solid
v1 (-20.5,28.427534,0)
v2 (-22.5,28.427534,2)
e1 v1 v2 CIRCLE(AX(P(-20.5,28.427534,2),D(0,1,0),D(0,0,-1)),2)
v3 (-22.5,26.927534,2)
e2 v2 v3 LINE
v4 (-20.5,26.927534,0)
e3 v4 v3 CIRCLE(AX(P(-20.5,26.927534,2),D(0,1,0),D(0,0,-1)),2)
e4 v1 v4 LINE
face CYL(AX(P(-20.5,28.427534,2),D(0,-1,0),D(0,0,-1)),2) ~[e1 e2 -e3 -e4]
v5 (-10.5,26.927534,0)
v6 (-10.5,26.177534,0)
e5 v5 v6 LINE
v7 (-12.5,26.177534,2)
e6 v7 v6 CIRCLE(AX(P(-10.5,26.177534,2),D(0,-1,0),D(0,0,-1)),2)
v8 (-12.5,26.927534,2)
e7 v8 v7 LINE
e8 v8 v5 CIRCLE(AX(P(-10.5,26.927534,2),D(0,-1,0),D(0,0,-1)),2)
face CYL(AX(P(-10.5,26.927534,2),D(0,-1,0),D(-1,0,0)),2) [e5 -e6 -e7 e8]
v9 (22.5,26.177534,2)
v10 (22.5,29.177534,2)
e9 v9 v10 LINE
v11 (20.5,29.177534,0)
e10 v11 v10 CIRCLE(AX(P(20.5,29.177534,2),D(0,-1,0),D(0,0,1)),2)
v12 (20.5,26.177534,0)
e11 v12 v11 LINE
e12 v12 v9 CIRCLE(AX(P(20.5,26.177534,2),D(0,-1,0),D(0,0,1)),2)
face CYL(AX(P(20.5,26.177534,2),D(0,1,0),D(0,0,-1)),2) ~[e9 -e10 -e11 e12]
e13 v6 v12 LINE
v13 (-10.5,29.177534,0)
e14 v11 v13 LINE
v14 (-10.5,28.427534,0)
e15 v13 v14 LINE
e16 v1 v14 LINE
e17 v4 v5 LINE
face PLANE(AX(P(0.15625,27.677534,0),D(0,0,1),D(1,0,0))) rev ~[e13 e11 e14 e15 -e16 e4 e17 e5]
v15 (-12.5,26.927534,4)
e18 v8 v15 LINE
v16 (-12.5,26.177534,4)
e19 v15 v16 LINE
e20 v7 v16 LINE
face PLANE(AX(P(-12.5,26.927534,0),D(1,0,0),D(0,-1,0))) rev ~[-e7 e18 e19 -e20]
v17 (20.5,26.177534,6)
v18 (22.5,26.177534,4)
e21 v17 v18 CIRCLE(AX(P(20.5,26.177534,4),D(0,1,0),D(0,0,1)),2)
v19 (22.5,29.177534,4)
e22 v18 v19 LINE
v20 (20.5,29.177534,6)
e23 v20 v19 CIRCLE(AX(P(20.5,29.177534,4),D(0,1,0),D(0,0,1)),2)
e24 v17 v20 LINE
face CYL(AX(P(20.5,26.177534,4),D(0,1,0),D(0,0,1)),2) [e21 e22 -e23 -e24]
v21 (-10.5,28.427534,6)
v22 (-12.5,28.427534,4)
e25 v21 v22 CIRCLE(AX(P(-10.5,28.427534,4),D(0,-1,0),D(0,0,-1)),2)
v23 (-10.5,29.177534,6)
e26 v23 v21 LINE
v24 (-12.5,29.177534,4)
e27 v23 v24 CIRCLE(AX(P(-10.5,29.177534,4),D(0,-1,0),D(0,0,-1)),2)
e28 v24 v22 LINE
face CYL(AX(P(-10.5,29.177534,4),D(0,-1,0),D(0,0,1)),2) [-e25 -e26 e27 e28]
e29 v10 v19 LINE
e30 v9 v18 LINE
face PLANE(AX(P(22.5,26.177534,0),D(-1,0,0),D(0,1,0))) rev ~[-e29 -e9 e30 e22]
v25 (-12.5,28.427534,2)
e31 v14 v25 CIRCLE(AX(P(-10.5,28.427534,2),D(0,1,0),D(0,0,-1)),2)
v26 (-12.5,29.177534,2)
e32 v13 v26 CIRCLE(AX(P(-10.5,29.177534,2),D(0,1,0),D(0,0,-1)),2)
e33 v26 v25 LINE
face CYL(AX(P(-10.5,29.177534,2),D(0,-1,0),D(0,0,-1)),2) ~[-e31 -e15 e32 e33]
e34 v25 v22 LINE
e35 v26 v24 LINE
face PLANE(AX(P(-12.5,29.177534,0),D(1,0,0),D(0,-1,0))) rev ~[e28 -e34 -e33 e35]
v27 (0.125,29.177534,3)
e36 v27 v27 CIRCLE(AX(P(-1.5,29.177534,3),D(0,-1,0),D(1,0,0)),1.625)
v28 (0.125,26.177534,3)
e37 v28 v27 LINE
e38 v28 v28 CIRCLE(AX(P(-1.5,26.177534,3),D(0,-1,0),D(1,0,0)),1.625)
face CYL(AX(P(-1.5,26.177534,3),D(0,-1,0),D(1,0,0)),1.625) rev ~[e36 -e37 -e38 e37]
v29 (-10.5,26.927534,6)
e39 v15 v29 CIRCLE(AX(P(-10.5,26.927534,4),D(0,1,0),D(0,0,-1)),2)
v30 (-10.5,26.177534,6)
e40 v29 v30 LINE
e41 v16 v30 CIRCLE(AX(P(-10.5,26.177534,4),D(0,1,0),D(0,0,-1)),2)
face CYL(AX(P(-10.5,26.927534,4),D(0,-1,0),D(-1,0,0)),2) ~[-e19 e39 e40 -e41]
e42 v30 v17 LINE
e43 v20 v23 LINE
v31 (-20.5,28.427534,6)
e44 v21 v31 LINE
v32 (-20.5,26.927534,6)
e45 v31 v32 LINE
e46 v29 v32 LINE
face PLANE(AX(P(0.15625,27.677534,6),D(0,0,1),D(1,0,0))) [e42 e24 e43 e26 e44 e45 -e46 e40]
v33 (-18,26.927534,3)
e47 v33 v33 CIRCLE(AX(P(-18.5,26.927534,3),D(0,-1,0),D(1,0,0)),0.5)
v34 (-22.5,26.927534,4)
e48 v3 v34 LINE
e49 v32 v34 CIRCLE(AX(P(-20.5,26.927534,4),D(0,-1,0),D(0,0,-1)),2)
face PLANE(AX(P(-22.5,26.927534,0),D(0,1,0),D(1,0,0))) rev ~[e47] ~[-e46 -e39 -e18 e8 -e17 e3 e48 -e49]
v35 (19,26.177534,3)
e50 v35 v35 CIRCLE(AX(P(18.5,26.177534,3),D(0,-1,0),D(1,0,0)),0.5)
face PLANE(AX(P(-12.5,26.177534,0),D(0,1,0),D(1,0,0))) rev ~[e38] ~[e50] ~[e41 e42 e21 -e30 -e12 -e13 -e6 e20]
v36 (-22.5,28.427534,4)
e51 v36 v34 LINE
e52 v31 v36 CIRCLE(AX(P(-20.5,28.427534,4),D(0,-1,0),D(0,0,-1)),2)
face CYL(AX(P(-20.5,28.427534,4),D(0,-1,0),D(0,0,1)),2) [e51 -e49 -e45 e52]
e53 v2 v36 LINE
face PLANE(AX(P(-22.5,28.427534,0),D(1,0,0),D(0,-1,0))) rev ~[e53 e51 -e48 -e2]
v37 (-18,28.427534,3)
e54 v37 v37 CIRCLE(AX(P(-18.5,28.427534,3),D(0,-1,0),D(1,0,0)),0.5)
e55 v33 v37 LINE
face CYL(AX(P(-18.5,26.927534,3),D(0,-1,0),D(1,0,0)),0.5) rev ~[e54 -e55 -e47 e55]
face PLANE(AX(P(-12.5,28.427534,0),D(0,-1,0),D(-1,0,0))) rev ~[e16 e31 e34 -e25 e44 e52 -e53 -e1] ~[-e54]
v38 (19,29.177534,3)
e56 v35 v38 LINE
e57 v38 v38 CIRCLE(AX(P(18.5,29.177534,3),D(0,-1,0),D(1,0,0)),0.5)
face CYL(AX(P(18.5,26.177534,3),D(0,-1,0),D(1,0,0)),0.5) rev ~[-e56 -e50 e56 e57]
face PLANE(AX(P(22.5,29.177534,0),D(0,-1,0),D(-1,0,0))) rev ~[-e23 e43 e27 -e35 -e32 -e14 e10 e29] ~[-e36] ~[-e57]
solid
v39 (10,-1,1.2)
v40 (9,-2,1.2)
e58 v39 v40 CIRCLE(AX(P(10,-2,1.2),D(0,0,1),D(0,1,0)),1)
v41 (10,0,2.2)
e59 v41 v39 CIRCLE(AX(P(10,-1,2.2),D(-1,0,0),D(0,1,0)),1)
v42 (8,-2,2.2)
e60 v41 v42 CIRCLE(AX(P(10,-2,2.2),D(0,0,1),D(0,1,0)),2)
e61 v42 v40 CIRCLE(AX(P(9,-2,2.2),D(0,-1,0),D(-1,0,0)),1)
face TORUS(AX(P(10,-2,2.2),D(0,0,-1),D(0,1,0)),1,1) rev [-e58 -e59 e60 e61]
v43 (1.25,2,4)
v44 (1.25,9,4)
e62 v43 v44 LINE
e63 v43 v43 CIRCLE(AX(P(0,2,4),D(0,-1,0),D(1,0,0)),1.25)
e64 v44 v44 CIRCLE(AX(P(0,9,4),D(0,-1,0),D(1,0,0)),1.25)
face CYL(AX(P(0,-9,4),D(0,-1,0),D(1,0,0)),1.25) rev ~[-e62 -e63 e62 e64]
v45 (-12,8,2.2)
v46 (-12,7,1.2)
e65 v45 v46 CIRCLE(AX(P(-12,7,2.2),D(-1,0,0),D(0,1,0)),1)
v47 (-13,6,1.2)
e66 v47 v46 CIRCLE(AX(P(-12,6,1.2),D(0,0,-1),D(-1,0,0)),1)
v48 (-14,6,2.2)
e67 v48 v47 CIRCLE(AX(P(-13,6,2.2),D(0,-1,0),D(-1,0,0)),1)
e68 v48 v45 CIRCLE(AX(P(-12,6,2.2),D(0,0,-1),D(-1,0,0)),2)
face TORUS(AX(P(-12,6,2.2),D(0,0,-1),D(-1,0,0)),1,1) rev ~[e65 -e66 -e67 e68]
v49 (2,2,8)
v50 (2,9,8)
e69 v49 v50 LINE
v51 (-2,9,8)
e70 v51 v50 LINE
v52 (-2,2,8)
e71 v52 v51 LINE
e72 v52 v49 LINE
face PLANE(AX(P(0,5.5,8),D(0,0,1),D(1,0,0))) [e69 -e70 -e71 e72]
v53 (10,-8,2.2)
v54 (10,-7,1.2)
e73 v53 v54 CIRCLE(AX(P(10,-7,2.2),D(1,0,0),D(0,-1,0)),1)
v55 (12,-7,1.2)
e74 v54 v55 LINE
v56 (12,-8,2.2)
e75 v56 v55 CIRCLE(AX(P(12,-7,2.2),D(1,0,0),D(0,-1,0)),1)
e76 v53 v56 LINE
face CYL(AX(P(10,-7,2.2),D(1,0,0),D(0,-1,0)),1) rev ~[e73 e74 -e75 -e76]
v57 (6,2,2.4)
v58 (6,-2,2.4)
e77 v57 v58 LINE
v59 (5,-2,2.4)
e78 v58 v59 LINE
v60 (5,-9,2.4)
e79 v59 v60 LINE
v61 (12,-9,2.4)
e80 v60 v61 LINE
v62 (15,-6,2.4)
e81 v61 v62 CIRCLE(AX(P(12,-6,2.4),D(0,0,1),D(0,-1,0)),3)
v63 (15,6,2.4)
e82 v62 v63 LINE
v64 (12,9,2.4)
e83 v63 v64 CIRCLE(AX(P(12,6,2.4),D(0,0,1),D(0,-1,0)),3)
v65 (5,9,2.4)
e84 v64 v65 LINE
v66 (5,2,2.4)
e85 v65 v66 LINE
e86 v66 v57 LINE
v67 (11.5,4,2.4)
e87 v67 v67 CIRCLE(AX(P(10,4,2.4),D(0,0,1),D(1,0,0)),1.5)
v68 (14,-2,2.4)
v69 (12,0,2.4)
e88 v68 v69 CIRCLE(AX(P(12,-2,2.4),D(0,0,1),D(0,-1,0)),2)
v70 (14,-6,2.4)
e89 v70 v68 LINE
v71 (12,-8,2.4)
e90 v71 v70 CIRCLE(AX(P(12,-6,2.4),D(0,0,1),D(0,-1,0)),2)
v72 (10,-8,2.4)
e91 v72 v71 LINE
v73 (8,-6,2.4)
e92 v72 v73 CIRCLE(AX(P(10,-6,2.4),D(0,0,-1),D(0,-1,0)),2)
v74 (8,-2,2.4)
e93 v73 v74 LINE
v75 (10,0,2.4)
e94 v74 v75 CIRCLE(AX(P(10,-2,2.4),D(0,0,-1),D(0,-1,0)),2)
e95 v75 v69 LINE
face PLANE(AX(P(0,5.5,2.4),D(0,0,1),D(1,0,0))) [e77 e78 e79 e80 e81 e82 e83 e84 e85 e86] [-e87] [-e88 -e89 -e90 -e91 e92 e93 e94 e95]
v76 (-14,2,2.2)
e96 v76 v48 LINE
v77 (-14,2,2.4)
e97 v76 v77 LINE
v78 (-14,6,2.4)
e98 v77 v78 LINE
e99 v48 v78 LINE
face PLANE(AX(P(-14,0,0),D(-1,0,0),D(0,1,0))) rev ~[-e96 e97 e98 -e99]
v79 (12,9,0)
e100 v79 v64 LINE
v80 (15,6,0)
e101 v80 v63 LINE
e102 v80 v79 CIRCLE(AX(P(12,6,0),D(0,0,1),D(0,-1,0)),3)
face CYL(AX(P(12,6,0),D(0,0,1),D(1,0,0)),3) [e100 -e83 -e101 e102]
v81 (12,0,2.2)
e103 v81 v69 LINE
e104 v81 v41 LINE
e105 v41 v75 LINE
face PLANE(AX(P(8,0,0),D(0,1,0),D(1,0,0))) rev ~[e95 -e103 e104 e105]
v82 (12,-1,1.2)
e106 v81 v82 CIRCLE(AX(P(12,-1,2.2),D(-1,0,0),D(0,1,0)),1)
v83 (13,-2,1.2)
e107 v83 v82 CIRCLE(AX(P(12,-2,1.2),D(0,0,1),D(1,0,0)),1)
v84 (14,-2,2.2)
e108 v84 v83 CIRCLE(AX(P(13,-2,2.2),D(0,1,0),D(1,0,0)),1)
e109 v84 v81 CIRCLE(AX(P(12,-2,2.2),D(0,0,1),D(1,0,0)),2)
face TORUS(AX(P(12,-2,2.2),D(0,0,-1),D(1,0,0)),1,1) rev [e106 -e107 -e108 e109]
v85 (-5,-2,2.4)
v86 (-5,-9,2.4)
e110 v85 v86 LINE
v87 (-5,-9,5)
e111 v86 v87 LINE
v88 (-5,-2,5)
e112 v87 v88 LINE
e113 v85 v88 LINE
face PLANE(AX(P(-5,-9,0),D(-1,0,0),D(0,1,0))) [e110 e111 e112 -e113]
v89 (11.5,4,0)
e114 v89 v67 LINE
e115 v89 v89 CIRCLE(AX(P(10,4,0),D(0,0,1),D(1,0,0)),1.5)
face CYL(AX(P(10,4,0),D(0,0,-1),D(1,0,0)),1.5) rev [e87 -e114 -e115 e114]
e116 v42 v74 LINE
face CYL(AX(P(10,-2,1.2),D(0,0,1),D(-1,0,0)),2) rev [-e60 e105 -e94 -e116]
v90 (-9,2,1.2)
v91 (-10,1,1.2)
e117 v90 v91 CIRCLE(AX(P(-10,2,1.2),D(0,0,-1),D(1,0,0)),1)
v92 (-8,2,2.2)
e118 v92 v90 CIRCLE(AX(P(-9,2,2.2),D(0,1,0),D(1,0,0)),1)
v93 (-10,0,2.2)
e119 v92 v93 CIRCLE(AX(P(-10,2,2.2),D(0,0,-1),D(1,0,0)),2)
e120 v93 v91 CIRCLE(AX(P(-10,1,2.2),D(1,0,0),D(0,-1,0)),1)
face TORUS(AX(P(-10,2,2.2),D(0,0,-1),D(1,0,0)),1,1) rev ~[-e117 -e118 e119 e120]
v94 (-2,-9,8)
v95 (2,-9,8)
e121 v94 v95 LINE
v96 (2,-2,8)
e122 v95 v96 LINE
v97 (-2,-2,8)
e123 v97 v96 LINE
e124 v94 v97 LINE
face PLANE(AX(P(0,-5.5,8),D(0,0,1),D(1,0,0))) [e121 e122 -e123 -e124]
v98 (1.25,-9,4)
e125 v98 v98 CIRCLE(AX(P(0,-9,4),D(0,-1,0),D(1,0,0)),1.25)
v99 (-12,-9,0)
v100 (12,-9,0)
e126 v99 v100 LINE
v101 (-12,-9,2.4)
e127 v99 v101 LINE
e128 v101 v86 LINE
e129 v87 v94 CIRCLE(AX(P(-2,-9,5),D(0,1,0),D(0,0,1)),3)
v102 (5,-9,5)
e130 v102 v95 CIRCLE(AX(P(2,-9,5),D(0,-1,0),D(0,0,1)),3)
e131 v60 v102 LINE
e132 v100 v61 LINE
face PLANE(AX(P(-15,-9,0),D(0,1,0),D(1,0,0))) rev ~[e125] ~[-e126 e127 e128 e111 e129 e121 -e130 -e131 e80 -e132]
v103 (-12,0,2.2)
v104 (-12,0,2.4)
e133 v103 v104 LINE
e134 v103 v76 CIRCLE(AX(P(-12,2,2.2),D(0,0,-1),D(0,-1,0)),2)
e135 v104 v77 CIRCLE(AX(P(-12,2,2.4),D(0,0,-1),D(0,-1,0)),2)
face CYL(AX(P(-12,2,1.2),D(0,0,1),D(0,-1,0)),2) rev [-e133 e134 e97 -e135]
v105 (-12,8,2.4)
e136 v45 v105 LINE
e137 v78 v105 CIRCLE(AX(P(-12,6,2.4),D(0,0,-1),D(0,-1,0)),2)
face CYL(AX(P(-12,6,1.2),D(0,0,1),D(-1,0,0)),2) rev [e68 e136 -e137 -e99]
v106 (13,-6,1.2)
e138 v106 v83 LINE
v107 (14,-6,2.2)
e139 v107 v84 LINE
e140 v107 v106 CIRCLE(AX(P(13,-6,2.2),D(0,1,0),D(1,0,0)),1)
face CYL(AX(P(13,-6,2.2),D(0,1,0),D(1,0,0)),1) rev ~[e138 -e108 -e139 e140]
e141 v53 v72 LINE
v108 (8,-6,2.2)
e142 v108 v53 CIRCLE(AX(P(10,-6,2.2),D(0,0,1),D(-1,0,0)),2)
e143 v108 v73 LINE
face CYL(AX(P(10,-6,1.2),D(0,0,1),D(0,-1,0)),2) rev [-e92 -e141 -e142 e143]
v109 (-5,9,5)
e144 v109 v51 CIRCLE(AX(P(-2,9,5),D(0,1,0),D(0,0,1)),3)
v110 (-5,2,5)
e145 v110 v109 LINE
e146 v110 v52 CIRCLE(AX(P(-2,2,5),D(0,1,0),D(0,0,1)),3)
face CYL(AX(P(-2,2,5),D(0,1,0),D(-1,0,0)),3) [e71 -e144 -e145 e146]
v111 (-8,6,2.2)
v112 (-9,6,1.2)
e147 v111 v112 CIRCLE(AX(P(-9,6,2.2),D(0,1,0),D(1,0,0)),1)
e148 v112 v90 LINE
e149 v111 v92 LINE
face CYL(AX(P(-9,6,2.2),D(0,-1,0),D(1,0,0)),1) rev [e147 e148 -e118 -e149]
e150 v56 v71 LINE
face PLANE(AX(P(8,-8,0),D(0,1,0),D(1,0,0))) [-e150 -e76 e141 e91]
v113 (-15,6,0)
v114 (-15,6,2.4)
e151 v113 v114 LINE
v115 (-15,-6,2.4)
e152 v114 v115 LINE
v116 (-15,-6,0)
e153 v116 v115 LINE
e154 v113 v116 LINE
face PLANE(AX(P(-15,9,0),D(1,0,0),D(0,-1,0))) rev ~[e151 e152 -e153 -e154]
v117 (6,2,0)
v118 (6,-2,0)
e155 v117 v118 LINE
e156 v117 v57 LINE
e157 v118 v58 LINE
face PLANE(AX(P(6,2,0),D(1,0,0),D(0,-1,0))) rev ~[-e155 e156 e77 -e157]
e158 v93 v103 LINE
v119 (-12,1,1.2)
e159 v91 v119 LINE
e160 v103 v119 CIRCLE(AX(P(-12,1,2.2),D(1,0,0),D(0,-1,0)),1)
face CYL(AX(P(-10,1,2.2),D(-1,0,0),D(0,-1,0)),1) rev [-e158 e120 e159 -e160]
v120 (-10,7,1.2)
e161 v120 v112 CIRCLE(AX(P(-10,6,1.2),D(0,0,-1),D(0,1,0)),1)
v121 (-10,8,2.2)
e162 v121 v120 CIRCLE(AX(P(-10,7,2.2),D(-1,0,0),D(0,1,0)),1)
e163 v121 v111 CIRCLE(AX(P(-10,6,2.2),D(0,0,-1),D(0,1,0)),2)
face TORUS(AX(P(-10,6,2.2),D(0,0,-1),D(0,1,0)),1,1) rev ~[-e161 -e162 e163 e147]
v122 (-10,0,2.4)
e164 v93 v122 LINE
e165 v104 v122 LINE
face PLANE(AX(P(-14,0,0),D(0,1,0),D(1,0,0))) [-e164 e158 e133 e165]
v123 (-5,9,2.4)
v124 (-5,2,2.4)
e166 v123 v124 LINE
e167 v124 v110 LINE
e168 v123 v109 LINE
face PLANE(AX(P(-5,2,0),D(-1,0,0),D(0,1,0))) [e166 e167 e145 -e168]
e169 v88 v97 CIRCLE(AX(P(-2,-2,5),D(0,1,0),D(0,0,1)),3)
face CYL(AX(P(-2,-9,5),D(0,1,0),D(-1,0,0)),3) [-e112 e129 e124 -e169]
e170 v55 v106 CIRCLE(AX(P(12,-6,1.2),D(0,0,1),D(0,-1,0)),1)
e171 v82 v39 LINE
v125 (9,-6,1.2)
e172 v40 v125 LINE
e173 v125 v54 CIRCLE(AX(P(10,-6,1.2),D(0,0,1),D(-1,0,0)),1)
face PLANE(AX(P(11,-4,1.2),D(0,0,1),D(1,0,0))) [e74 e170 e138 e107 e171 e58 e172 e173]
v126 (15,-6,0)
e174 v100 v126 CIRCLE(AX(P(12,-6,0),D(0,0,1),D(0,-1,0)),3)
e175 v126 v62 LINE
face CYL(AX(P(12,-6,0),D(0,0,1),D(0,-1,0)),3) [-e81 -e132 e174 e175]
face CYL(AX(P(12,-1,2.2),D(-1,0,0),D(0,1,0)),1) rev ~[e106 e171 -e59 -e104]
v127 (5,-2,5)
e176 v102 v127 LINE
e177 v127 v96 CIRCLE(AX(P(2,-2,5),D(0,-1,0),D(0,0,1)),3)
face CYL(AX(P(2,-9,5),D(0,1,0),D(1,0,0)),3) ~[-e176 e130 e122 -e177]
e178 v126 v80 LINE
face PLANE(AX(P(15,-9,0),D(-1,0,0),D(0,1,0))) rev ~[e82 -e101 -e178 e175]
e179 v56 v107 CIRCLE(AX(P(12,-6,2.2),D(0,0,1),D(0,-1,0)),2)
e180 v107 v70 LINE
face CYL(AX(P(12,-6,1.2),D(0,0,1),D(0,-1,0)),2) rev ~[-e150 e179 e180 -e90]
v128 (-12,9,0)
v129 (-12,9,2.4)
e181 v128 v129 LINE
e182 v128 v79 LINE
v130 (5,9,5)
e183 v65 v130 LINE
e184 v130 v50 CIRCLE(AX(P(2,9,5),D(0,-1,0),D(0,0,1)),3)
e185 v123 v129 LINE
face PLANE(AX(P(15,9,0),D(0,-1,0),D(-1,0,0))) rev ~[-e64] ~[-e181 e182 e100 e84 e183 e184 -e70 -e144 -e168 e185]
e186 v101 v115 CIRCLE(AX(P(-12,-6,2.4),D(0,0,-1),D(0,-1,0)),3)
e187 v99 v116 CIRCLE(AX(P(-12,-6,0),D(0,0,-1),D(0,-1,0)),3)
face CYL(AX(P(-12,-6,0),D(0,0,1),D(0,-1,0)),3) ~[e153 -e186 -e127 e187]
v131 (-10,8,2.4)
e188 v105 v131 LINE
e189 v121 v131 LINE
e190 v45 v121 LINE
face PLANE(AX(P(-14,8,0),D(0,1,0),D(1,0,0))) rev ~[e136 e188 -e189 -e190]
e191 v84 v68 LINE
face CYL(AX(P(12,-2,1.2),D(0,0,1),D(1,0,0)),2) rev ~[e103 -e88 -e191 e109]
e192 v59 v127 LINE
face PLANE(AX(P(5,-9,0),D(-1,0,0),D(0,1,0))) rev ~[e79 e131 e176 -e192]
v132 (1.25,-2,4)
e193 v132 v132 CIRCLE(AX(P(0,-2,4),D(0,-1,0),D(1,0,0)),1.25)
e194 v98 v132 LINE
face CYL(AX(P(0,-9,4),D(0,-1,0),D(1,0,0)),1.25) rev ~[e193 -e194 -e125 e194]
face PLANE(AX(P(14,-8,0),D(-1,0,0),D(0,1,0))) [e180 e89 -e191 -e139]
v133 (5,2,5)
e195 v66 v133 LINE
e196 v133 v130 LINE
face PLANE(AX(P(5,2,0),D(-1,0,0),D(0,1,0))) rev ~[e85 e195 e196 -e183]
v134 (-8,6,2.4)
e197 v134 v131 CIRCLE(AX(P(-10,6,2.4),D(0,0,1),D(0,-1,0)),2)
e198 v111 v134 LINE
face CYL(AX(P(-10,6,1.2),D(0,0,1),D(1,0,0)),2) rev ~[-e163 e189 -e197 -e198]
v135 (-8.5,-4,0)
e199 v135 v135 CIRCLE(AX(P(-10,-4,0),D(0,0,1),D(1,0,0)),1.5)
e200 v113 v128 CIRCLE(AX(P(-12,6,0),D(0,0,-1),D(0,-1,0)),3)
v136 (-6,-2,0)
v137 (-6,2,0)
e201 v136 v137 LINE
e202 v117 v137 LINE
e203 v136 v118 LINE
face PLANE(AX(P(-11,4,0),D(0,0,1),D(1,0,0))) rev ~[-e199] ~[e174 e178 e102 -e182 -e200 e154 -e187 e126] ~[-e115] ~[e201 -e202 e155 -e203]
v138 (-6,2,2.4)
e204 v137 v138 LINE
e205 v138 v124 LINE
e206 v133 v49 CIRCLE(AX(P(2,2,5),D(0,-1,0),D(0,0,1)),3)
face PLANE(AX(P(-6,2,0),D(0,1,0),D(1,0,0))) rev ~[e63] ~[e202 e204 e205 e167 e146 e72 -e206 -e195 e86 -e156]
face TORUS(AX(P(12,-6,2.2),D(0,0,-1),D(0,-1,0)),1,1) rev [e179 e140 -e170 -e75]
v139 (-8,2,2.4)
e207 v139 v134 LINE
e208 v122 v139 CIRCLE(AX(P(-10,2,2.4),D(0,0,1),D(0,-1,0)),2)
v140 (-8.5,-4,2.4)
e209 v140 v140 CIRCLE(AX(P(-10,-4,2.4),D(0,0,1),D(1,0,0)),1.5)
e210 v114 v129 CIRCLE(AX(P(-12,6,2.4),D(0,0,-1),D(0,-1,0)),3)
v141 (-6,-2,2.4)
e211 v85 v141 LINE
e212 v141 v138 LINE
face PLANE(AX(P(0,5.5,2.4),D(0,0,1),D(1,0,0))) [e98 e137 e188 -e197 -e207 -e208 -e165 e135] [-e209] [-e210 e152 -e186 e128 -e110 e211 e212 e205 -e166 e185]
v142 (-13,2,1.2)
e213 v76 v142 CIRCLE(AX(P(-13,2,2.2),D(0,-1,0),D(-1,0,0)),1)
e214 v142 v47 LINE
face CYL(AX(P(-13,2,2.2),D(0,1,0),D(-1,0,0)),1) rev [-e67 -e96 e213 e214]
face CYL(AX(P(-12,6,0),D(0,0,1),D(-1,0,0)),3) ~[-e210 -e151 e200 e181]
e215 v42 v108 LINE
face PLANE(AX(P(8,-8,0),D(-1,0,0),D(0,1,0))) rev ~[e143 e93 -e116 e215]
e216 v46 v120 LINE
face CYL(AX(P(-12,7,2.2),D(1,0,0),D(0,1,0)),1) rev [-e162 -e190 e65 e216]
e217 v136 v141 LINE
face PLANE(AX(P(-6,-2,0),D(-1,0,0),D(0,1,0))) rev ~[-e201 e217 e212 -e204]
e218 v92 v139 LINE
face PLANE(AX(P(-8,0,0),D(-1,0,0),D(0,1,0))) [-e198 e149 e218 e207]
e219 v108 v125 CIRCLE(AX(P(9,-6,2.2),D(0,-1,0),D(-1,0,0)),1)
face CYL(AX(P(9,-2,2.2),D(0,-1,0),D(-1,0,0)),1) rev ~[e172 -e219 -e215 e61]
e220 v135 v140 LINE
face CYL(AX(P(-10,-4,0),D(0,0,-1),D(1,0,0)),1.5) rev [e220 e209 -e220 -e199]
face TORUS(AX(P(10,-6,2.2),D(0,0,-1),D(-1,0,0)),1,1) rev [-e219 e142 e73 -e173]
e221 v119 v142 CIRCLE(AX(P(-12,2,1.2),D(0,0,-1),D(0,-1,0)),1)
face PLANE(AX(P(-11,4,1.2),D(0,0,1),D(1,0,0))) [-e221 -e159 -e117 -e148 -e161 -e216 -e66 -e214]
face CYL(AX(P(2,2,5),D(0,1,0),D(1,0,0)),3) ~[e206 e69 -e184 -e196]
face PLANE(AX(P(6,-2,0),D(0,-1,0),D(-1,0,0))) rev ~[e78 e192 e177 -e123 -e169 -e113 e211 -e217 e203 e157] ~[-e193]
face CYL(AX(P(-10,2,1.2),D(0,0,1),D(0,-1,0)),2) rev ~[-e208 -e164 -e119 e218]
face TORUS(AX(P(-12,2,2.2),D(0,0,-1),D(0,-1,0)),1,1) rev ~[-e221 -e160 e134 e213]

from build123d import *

# Parameters (mm, degrees)
F0_W      = 10
F0_H      = 7
F0_R      = 1.5
F0_W_2    = 6
F0_H_2    = 8
F1_DEPTH  = 2.4
F2_DEPTH  = 8
F3_R      = 1.25
F4_DEPTH  = 25
F5_R      = 3
F6_DEPTH  = 1.2
F7_R      = 2
F8_R      = 1
F10_DEPTH = 6
F11_R     = 0.5
F12_DEPTH = 25
F13_R     = 1.625
F13_R_2   = 0.5
F14_DEPTH = 25
F15_R     = 2


with BuildPart() as f1:
    # F0 (on Top) → F1 (new body)
    with BuildSketch(Plane.XY):
        with Locations((0, 5.5)):
            Rectangle(F0_W, F0_H)
        Polygon((-5, 2), (-5, 9), (-15, 9), (-15, -9), (-5, -9), (-5, -2), (-6, -2), (-6, 2), align=None)
        with Locations((-10, -4)):
            Circle(F0_R, mode=Mode.SUBTRACT)
        with Locations((-11, 4)):
            Rectangle(F0_W_2, F0_H_2, mode=Mode.SUBTRACT)
        with Locations((0, -5.5)):
            Rectangle(F0_W, F0_H)
        Polygon((15, -9), (15, 9), (5, 9), (5, 2), (6, 2), (6, -2), (5, -2), (5, -9), align=None)
        with Locations((11, -4)):
            Rectangle(F0_W_2, F0_H_2, mode=Mode.SUBTRACT)
        with Locations((10, 4)):
            Circle(F0_R, mode=Mode.SUBTRACT)
    extrude(amount=F1_DEPTH)

    # F0 (on Top) → F2 (join)
    with BuildSketch(Plane.XY):
        with Locations((0, -5.5)):
            Rectangle(F0_W, F0_H)
        with Locations((0, 5.5)):
            Rectangle(F0_W, F0_H)
    extrude(amount=F2_DEPTH)

    # F3 (on face) → F4 (cut)
    with BuildSketch(Plane.XZ.offset(9)):
        with Locations((0, 4)):
            Circle(F3_R)
    extrude(amount=-F4_DEPTH, mode=Mode.SUBTRACT)

    # F5
    f5_edges = [f1.edges().sort_by_distance(p)[0] for p in [
        (-5, 5.5, 8),
        (5, 5.5, 8),
        (-5, -5.5, 8),
        (5, -5.5, 8),
        (-15, -9, 1.2),
        (15, -9, 1.2),
        (-15, 9, 1.2),
        (15, 9, 1.2),
    ]]
    fillet(f5_edges, radius=F5_R)

    # F0 (on Top) → F6 (join)
    with BuildSketch(Plane.XY):
        with Locations((-11, 4)):
            Rectangle(F0_W_2, F0_H_2)
        with Locations((11, -4)):
            Rectangle(F0_W_2, F0_H_2)
    extrude(amount=F6_DEPTH)

    # F7
    f7_edges = [f1.edges().sort_by_distance(p)[0] for p in [
        (14, -8, 1.8),
        (8, -8, 1.8),
        (14, 0, 1.8),
        (8, 0, 1.8),
        (-8, 8, 1.8),
        (-14, 8, 1.8),
        (-8, 0, 1.8),
        (-14, 0, 1.8),
    ]]
    fillet(f7_edges, radius=F7_R)

    # F8
    f8_edges = [f1.edges().sort_by_distance(p)[0] for p in [
        (-11, 8, 1.2),
        (-8.585786, 7.414214, 1.2),
        (-13.414214, 7.414214, 1.2),
        (-8, 4, 1.2),
        (-14, 4, 1.2),
        (-8.585786, 0.585786, 1.2),
        (-13.414214, 0.585786, 1.2),
        (-11, 0, 1.2),
        (11, -8, 1.2),
        (8.585786, -7.414214, 1.2),
        (13.414214, -7.414214, 1.2),
        (8, -4, 1.2),
        (14, -4, 1.2),
        (8.585786, -0.585786, 1.2),
        (13.414214, -0.585786, 1.2),
        (11, 0, 1.2),
    ]]
    fillet(f8_edges, radius=F8_R)


with BuildPart() as f10:
    # F9 (on Top) → F10 (new body)
    with BuildSketch(Plane.XY):
        Polygon((-12.5, 26.9275341481), (-12.5, 26.1775341481), (22.5, 26.1775341481), (22.5, 29.1775341481), (-12.5, 29.1775341481), (-12.5, 28.4275341481), (-22.5, 28.4275341481), (-22.5, 26.9275341481), align=None)
    extrude(amount=F10_DEPTH)

    # F11 (on face) → F12 (cut)
    with BuildSketch(Plane.XZ.offset(-26.9275341481)):
        with Locations((-18.5, 3)):
            Circle(F11_R)
    extrude(amount=-F12_DEPTH, mode=Mode.SUBTRACT)

    # F13 (on face) → F14 (cut)
    with BuildSketch(Plane.XZ.offset(-26.1775341481)):
        with Locations((-1.5, 3)):
            Circle(F13_R)
        with Locations((18.5, 3)):
            Circle(F13_R_2)
    extrude(amount=-F14_DEPTH, mode=Mode.SUBTRACT)

    # F15
    f15_edges = [f10.edges().sort_by_distance(p)[0] for p in [
        (-22.5, 27.677534, 6),
        (-22.5, 27.677534, 0),
        (22.5, 27.677534, 6),
        (22.5, 27.677534, 0),
        (-12.5, 26.552534, 0),
        (-12.5, 28.802534, 0),
        (-12.5, 26.552534, 6),
        (-12.5, 28.802534, 6),
    ]]
    fillet(f15_edges, radius=F15_R)


solid = Compound([f1.part, f10.part])
